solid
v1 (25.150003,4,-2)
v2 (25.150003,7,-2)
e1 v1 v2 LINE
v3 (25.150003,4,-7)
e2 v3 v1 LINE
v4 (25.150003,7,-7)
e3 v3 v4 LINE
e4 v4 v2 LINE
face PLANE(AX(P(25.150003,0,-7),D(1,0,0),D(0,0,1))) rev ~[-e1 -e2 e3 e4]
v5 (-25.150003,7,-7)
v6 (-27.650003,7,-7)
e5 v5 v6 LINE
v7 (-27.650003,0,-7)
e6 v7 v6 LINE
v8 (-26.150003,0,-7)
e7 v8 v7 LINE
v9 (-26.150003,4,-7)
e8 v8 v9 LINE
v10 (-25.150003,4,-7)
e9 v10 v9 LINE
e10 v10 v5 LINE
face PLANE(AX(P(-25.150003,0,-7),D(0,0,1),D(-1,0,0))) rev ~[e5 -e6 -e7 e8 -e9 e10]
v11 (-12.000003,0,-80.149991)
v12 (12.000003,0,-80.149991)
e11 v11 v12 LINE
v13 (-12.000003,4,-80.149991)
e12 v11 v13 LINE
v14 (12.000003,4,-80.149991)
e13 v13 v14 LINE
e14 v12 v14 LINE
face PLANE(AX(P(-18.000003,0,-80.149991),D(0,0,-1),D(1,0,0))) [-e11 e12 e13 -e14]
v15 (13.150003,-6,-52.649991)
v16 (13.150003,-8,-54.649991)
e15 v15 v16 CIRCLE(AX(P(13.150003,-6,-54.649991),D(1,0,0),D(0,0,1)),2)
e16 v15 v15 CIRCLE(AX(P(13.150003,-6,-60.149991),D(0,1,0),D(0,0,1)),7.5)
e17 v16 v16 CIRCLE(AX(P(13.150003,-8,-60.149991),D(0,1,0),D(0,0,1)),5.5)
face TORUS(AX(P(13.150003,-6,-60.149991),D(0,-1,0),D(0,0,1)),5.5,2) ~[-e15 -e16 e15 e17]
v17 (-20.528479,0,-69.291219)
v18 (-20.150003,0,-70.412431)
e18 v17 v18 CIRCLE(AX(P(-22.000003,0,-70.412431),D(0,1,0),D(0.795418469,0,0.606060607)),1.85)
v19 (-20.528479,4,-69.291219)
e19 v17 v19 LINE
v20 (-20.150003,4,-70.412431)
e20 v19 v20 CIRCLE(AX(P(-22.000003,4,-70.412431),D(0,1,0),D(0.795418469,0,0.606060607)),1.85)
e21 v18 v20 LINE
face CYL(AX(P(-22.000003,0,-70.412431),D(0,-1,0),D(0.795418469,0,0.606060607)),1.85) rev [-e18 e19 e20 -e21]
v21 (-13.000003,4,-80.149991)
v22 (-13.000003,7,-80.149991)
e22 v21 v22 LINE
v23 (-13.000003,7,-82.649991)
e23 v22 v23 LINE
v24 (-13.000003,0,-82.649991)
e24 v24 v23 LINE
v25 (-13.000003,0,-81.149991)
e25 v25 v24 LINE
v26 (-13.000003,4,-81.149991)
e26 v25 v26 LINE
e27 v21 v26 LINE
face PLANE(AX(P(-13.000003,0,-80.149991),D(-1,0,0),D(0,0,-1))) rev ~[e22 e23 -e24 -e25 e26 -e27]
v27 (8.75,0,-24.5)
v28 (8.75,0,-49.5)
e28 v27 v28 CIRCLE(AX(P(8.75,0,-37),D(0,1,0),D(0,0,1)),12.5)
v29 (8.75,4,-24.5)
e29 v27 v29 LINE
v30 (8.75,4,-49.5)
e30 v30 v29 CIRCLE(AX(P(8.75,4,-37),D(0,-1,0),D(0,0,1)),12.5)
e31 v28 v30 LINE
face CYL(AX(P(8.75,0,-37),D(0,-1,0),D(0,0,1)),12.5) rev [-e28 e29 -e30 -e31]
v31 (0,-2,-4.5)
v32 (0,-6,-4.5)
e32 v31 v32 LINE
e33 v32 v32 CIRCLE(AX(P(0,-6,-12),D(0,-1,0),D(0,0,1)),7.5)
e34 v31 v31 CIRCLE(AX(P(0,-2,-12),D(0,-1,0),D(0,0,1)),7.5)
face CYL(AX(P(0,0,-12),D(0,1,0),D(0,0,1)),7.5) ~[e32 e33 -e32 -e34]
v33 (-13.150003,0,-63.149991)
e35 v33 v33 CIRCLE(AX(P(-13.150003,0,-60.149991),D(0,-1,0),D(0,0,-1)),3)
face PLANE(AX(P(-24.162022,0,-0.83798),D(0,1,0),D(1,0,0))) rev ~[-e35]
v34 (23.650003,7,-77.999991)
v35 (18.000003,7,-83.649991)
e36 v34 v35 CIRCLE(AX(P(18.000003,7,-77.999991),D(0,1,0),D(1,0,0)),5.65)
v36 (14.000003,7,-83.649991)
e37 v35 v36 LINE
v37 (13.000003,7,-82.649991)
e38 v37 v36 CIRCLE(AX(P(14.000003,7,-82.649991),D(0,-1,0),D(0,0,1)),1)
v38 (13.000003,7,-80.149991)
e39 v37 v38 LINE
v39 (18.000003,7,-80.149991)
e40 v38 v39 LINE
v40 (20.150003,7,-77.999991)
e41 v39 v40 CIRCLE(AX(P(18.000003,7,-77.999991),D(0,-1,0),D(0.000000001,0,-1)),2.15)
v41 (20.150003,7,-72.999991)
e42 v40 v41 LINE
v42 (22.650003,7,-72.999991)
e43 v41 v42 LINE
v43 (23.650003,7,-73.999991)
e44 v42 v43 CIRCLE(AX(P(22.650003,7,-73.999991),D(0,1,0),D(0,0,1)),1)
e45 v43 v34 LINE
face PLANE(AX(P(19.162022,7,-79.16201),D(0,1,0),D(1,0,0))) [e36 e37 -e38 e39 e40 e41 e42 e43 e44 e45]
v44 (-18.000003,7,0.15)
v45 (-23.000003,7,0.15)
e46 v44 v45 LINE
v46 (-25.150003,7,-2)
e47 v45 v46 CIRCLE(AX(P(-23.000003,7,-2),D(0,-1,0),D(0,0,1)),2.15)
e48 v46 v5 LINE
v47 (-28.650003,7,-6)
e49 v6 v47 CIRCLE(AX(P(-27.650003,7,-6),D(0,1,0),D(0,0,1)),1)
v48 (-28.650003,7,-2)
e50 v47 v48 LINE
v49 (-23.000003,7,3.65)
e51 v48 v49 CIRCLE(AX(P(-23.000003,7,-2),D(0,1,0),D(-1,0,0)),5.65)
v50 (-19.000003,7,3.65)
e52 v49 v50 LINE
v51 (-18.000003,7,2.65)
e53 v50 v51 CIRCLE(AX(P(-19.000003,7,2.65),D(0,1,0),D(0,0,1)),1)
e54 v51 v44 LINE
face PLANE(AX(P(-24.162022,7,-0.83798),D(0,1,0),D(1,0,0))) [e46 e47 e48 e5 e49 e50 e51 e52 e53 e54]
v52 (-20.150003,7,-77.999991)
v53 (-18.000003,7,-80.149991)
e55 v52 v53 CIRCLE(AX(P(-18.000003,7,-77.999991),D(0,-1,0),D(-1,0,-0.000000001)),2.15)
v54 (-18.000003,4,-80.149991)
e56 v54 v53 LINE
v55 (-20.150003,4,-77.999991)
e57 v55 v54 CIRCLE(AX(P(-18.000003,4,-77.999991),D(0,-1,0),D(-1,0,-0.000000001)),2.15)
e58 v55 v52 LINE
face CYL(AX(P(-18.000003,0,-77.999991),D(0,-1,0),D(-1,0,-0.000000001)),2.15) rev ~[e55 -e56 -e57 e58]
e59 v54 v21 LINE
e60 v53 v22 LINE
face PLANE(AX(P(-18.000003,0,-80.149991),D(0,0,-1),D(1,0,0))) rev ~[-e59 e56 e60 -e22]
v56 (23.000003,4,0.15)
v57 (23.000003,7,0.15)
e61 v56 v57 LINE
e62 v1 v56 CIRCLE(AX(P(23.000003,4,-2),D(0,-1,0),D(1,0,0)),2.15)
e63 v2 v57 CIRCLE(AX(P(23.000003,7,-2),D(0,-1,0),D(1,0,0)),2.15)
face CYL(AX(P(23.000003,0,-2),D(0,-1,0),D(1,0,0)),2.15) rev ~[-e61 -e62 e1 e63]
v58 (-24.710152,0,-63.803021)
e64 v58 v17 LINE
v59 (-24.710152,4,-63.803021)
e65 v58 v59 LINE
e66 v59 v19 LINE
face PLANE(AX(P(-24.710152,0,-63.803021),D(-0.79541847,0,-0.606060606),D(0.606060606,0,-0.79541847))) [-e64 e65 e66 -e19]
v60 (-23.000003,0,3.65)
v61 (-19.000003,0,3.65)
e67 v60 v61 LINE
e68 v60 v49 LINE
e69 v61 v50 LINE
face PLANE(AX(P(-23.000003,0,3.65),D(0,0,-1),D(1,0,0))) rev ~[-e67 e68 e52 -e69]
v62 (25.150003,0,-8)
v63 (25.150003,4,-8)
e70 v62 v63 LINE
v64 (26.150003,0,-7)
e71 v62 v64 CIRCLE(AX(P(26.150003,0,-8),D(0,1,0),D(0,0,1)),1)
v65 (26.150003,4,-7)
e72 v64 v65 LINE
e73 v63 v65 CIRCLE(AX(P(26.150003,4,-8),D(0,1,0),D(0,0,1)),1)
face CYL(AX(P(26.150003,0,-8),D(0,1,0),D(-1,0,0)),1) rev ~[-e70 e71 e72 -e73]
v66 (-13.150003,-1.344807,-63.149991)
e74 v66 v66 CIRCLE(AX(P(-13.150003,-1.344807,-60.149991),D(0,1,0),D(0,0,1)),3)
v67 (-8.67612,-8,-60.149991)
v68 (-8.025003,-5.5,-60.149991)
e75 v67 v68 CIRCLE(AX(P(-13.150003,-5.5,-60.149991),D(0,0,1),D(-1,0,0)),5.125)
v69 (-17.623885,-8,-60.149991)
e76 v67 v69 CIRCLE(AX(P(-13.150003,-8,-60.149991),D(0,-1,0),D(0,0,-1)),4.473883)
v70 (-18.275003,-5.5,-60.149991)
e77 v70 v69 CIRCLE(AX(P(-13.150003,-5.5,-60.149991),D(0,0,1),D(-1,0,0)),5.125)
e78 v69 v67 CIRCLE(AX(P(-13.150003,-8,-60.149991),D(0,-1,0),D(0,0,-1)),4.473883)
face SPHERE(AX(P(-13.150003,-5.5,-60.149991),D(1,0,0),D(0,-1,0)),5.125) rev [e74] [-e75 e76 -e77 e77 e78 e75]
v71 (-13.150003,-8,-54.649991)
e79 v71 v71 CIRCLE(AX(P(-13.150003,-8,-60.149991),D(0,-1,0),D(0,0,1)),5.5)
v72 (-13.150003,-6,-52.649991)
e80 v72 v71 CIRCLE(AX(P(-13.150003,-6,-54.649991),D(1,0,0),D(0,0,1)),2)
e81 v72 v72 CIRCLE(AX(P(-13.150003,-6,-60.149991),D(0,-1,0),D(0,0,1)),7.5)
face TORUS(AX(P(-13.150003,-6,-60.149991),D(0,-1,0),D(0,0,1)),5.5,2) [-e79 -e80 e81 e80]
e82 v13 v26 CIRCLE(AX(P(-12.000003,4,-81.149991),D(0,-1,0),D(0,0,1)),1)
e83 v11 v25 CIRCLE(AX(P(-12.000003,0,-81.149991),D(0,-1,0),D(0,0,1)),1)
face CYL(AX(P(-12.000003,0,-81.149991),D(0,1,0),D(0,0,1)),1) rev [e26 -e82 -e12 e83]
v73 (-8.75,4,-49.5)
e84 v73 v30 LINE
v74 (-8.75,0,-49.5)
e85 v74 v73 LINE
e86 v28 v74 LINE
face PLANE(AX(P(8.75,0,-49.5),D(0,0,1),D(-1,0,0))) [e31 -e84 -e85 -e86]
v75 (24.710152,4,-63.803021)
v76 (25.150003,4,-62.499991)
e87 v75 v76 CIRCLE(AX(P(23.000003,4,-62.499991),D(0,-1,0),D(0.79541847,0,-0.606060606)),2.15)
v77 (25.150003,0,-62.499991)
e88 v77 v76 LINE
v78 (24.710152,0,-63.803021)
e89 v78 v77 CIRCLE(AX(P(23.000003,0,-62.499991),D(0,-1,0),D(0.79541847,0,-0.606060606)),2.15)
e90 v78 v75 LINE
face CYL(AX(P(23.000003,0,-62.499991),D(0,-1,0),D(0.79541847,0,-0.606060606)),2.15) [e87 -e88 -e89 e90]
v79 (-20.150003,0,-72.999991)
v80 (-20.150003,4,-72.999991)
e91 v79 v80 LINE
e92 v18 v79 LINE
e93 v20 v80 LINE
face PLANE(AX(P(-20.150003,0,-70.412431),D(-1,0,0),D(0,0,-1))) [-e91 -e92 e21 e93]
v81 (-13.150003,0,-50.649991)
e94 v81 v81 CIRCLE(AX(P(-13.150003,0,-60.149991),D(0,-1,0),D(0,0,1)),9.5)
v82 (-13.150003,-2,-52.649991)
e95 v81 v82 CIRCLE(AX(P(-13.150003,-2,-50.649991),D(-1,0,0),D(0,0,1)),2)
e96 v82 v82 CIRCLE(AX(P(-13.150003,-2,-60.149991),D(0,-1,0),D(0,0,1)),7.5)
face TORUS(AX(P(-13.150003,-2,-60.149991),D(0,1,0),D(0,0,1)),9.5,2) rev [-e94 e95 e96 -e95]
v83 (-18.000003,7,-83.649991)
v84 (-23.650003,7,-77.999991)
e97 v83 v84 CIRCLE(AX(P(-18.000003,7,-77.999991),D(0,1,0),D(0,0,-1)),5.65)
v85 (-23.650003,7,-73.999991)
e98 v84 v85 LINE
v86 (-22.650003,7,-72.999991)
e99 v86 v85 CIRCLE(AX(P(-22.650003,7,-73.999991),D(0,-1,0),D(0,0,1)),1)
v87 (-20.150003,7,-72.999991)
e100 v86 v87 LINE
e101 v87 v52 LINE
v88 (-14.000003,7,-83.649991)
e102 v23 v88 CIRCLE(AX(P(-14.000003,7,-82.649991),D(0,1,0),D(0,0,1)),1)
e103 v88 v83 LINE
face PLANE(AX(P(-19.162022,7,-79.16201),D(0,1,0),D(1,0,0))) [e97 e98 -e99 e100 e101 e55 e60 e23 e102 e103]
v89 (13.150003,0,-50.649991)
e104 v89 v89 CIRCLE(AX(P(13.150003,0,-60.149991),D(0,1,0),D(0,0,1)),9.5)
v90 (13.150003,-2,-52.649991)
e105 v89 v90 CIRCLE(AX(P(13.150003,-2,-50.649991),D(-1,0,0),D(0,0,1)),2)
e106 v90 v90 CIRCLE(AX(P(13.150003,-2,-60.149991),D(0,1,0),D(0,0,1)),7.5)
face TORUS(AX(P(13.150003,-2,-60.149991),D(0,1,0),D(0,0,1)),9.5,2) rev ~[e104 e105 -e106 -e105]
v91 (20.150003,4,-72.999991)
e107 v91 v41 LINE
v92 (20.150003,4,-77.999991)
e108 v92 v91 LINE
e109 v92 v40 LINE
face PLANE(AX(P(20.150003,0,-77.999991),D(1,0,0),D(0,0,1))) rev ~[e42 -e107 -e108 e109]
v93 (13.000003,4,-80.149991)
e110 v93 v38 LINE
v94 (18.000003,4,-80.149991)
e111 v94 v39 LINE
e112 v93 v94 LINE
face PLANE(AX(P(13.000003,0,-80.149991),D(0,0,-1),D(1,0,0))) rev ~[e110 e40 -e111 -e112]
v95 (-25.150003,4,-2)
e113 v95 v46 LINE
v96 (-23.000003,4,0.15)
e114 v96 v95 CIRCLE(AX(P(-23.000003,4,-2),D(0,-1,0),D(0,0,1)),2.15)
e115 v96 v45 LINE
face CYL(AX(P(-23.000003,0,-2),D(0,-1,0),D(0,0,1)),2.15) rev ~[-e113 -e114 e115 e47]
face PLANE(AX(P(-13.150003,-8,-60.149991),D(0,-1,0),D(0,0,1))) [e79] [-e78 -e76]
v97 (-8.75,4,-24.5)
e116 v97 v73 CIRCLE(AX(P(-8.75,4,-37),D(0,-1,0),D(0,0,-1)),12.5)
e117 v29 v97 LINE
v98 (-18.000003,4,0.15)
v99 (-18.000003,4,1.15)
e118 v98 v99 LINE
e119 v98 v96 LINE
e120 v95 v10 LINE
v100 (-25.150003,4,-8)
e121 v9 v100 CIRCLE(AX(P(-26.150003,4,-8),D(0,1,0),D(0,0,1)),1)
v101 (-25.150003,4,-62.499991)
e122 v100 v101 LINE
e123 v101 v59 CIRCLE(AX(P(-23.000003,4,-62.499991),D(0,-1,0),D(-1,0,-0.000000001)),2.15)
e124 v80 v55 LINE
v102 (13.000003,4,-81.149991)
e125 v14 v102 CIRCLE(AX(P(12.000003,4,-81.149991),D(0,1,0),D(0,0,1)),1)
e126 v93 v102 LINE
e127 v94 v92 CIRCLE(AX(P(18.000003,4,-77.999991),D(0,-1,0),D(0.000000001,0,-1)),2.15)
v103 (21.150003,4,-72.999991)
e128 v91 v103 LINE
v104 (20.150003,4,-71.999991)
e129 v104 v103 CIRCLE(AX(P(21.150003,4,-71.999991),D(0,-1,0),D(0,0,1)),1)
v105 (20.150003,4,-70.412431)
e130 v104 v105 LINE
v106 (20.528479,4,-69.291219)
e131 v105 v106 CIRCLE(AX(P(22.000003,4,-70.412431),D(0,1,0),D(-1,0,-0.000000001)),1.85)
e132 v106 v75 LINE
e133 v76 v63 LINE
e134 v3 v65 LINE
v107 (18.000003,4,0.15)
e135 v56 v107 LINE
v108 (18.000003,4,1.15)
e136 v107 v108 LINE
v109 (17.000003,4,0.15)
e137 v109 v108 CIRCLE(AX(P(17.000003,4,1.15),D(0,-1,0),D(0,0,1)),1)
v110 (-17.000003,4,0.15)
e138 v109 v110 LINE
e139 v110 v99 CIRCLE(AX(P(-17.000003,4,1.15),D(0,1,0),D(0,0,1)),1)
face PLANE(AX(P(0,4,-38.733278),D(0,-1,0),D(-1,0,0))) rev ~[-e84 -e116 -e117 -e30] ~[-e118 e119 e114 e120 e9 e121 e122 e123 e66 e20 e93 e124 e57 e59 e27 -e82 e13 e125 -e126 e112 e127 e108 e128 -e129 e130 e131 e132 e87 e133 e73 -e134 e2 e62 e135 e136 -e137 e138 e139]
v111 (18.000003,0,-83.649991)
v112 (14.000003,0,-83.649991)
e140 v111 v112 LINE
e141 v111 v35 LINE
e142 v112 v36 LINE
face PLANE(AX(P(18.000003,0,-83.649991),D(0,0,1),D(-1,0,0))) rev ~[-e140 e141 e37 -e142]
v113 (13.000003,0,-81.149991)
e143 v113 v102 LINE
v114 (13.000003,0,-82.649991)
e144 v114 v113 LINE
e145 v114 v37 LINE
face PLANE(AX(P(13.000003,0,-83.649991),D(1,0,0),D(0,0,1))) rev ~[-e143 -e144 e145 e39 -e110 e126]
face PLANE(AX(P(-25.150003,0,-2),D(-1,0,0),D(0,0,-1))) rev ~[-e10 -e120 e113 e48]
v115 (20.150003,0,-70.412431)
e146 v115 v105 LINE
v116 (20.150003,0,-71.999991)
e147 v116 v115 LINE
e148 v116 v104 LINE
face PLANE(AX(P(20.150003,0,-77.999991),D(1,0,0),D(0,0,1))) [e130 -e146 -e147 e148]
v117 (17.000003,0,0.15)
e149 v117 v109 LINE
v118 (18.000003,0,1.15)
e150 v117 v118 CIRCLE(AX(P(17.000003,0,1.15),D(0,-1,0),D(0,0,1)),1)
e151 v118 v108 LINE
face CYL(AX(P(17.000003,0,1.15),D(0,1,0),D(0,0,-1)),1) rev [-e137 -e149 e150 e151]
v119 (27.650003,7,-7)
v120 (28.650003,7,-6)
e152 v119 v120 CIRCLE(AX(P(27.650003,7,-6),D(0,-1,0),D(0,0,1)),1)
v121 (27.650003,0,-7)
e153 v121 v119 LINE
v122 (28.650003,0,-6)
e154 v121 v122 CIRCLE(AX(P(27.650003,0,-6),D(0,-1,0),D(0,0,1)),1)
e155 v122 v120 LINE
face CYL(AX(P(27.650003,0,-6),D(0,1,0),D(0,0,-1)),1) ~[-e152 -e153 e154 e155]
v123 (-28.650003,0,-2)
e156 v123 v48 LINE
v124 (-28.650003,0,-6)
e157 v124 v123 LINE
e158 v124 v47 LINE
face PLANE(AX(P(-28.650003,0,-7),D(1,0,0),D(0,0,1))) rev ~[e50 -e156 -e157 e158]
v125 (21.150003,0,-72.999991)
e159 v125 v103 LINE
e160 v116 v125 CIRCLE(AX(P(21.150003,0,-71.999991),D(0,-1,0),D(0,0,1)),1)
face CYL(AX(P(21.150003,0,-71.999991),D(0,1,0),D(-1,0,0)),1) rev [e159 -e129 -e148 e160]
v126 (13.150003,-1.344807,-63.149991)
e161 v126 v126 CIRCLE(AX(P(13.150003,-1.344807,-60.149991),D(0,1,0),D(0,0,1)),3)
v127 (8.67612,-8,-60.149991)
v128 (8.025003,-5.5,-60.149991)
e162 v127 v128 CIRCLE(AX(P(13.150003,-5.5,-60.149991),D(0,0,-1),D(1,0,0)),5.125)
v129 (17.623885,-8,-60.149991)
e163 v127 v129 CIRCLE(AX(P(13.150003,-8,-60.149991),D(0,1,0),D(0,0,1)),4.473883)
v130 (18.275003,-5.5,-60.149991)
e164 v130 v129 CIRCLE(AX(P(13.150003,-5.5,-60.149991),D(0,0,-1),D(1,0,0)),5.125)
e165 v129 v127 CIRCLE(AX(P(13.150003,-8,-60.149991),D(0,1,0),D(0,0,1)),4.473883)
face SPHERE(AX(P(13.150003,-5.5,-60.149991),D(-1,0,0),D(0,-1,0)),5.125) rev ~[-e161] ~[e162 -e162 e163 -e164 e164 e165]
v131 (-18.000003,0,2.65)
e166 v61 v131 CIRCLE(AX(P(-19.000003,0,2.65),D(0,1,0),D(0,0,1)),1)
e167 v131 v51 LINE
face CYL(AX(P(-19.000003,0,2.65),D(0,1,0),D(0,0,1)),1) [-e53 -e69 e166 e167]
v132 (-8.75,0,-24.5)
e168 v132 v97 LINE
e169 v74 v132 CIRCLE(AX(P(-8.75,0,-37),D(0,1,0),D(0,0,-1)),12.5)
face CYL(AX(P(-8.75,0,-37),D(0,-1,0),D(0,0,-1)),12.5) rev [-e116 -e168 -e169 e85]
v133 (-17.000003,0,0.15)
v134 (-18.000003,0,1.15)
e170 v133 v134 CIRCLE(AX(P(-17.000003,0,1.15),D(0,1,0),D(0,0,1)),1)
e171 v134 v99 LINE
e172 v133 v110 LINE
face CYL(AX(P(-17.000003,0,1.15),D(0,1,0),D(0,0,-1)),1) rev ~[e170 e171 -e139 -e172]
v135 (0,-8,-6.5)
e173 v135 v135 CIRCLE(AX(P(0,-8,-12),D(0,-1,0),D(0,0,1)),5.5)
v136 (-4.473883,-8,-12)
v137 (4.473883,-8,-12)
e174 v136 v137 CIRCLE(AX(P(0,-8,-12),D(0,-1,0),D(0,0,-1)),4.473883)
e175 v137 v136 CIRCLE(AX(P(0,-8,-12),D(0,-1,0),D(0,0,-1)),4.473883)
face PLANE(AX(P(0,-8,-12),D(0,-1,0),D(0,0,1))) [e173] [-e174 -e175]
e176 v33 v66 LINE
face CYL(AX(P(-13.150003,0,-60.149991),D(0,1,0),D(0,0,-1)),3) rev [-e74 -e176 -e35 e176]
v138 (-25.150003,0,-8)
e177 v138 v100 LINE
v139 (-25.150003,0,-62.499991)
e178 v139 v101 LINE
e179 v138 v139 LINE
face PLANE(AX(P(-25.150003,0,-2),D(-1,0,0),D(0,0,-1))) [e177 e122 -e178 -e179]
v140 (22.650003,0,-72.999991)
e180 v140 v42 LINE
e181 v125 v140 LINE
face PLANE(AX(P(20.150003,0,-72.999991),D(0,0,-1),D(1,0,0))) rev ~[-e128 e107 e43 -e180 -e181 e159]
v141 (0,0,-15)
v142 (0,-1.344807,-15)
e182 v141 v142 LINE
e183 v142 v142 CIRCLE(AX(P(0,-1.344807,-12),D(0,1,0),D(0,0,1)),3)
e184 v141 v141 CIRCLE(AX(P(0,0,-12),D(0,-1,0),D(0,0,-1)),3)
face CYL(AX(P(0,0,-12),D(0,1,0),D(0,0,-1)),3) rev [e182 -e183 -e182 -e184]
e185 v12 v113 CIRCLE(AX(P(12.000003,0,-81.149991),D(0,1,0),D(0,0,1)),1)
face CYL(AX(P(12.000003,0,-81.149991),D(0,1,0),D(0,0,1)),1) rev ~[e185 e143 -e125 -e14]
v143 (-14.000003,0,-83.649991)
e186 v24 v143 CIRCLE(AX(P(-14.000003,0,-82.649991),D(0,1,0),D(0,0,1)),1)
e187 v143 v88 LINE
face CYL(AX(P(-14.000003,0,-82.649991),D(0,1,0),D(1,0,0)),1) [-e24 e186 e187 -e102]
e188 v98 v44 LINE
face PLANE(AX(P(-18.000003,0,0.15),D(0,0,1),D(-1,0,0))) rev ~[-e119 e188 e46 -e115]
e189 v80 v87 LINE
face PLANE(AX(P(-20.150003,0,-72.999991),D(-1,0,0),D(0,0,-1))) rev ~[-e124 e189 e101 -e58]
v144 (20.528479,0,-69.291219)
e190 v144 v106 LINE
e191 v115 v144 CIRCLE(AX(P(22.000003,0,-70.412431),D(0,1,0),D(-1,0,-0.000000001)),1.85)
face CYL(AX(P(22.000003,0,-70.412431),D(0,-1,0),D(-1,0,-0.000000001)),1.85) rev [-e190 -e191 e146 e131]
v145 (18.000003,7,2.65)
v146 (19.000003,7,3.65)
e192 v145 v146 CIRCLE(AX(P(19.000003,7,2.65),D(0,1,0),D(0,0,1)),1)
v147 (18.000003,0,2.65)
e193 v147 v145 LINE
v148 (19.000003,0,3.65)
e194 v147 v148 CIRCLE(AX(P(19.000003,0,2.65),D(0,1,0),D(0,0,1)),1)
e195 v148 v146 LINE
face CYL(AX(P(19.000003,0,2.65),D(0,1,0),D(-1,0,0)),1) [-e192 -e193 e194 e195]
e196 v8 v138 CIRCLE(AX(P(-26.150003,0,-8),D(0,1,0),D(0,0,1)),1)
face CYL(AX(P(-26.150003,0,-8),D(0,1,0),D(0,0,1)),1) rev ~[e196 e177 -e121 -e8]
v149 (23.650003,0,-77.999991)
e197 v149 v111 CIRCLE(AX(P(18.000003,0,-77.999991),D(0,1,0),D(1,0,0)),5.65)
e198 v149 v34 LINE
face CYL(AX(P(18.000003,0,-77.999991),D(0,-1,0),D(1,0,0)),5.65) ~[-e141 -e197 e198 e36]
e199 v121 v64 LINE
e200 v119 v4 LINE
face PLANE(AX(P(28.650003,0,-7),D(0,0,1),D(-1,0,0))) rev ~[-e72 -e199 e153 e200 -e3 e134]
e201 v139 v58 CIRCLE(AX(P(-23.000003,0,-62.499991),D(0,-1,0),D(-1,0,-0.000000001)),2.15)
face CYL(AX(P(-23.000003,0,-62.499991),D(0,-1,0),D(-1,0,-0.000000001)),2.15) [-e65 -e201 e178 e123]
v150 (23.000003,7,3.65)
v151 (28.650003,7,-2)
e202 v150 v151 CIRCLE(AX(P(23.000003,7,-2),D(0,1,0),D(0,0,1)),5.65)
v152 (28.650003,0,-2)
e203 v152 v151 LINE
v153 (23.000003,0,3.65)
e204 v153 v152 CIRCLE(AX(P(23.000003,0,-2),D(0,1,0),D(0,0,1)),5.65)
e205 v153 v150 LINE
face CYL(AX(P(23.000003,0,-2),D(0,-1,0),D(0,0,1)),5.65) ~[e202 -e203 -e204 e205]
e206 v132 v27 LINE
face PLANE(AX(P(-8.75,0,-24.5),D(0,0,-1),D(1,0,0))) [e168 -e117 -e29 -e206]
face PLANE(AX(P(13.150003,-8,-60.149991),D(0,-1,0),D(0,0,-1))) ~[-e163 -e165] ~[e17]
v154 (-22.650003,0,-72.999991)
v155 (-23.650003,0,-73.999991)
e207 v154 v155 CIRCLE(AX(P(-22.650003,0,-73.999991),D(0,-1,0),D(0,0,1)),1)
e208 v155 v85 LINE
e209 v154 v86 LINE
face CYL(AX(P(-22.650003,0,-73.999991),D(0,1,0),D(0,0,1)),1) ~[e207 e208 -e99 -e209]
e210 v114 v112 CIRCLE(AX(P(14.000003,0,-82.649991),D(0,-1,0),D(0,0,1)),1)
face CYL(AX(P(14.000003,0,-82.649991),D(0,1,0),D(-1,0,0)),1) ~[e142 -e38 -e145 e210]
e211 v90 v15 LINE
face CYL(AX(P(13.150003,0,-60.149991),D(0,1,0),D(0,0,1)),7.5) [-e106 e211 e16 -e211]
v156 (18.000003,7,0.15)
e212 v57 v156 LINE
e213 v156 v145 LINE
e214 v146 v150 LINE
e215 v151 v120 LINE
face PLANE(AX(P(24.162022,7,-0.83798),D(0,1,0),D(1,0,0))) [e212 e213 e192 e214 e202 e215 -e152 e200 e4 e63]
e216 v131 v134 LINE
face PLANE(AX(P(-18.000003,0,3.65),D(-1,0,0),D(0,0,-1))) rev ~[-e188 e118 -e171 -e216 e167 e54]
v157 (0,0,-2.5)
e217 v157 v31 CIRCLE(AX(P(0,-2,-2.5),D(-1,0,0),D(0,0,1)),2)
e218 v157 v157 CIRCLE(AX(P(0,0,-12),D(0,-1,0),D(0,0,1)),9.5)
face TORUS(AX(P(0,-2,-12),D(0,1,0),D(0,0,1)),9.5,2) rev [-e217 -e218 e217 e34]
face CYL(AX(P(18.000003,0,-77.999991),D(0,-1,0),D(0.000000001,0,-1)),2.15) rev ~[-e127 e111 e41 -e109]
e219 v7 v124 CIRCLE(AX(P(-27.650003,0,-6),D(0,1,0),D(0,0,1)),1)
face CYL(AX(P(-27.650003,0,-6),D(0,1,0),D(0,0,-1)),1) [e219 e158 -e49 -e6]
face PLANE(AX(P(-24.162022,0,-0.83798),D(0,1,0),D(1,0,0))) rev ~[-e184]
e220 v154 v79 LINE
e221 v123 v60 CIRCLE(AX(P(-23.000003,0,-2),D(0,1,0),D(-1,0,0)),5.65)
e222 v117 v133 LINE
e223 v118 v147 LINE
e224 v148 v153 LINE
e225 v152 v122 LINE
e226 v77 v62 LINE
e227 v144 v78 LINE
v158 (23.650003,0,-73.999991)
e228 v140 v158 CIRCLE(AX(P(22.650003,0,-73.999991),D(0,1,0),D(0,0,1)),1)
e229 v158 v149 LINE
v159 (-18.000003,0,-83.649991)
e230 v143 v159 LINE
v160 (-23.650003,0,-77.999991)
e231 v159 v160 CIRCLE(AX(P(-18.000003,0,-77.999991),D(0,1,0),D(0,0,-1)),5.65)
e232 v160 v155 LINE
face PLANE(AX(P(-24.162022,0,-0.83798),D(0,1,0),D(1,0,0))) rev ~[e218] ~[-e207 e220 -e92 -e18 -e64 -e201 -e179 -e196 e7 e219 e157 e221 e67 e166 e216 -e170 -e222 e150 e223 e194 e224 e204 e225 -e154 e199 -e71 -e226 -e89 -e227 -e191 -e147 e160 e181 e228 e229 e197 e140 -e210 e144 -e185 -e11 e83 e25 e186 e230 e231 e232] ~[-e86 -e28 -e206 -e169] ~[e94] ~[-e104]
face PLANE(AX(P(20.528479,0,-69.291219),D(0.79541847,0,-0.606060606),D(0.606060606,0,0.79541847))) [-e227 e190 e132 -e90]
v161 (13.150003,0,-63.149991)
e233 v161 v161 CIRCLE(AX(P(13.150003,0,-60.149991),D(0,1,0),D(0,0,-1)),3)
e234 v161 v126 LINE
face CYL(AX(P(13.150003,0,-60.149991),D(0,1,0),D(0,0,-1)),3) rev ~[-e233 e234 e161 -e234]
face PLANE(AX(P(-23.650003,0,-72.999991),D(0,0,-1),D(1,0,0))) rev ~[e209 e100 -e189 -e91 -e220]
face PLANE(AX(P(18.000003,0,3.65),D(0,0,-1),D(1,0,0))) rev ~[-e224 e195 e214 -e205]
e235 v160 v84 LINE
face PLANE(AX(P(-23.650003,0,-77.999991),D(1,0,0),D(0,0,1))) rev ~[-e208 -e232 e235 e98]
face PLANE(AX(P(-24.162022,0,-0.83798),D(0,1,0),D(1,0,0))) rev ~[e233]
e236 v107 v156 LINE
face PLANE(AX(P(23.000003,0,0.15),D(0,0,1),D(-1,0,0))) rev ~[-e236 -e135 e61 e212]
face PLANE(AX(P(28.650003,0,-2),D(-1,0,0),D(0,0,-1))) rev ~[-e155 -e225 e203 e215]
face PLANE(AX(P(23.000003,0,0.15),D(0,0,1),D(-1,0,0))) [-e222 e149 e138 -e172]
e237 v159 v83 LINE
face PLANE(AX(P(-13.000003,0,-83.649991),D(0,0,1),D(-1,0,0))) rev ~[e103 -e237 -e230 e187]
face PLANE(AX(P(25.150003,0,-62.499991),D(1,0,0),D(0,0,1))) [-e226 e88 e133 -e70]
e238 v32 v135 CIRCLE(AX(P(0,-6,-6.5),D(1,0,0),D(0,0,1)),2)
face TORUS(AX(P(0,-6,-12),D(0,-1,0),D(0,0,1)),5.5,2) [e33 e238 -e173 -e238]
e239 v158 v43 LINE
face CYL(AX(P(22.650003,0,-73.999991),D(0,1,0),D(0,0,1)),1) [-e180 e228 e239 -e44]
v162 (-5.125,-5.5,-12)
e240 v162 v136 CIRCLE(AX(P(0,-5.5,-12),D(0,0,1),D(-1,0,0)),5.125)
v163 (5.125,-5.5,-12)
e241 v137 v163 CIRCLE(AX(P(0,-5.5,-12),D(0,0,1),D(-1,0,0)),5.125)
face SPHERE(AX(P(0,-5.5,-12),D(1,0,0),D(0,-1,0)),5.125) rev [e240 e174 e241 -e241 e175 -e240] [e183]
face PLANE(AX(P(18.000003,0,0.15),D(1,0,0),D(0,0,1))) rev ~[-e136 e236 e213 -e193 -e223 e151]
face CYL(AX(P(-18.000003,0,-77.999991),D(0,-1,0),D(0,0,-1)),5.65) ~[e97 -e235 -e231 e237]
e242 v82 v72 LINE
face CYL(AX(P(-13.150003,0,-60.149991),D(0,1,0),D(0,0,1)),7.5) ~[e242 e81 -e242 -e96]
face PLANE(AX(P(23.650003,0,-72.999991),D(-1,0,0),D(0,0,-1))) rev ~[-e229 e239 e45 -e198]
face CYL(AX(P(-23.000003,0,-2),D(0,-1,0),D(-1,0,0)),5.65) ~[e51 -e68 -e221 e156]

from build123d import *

# Parameters (mm, degrees)
SALIENTE_EXTRUIR1_DEPTH  = 4
SALIENTE_EXTRUIR2_DEPTH  = 7
REDONDEO1_R              = 1
CROQUIS3_R               = 7.5
CROQUIS3_R_2             = 3
SALIENTE_EXTRUIR3_DEPTH  = 8
CROQUIS3_3_R             = 7.5
CROQUIS3_3_R_2           = 3
SALIENTE_EXTRUIR4_DEPTH  = 8
REDONDEO2_R              = 2
REDONDEO3_R              = 2
REDONDEO3_OF_SIMETR_A1_R = 2
CORTAR_EXTRUIR1_REACH    = 90.781


with BuildPart() as part:
    # Croquis2 → Saliente-Extruir1 (new body)
    with BuildSketch(Plane(origin=(0, 0, 0), x_dir=(1, 0, 0), z_dir=(0, 1, 0))):
        with BuildLine():
            Line((-20.528478505, 69.291218974), (-24.710152383, 63.803020924))
            ThreePointArc((-24.710152383, 63.803020924), (-25.037074331, 63.187623562), (-25.150002674, 62.49999062))
            Line((-25.150002674, 62.49999062), (-25.150002674, 7))
            Line((-25.150002674, 7), (-25.150002674, 2))
            ThreePointArc((-25.150002674, 2), (-24.520282253, 0.47972042), (-23.000002674, -0.15))
            Line((-23.000002674, -0.15), (-18.000002674, -0.15))
            Line((-18.000002674, -0.15), (-6.000002674, -0.15))
            Line((-6.000002674, -0.15), (6.000002674, -0.15))
            Line((6.000002674, -0.15), (18.000002674, -0.15))
            Line((18.000002674, -0.15), (23.000002674, -0.15))
            ThreePointArc((23.000002674, -0.15), (24.520282253, 0.47972042), (25.150002674, 2))
            Line((25.150002674, 2), (25.150002674, 7))
            Line((25.150002674, 7), (25.150002674, 62.49999062))
            ThreePointArc((25.150002674, 62.49999062), (25.037074331, 63.187623562), (24.710152383, 63.803020924))
            Line((24.710152383, 63.803020924), (20.528478505, 69.291218974))
            ThreePointArc((20.528478505, 69.291218974), (20.247173573, 69.820746936), (20.150002674, 70.412431095))
            Line((20.150002674, 70.412431095), (20.150002674, 72.999990621))
            Line((20.150002674, 72.999990621), (20.150002674, 77.999990621))
            ThreePointArc((20.150002674, 77.999990621), (19.520282253, 79.5202702), (18.000002674, 80.149990621))
            Line((18.000002674, 80.149990621), (13.000002674, 80.149990621))
            Line((13.000002674, 80.149990621), (6.000002674, 80.149990621))
            Line((6.000002674, 80.149990621), (-6.000002674, 80.149990621))
            Line((-6.000002674, 80.149990621), (-13.000002674, 80.149990621))
            Line((-13.000002674, 80.149990621), (-18.000002674, 80.149990621))
            ThreePointArc((-18.000002674, 80.149990621), (-19.520282253, 79.5202702), (-20.150002674, 77.999990621))
            Line((-20.150002674, 77.999990621), (-20.150002674, 72.999990621))
            Line((-20.150002674, 72.999990621), (-20.150002674, 70.412431095))
            ThreePointArc((-20.150002674, 70.412431095), (-20.247173573, 69.820746936), (-20.528478505, 69.291218974))
        make_face()
    extrude(amount=SALIENTE_EXTRUIR1_DEPTH)

    # Croquis2<3> → Saliente-Extruir2 (add)
    with BuildSketch(Plane(origin=(0, 0, 0), x_dir=(1, 0, 0), z_dir=(0, 1, 0))):
        with BuildLine():
            Line((-25.150002674, 2), (-25.150002674, 7))
            Line((-25.150002674, 7), (-28.650002674, 7))
            Line((-28.650002674, 7), (-28.650002674, 2))
            ThreePointArc((-28.650002674, 2), (-26.995155987, -1.995153314), (-23.000002674, -3.65))
            Line((-23.000002674, -3.65), (-18.000002674, -3.65))
            Line((-18.000002674, -3.65), (-18.000002674, -0.15))
            Line((-18.000002674, -0.15), (-23.000002674, -0.15))
            ThreePointArc((-23.000002674, -0.15), (-24.520282253, 0.47972042), (-25.150002674, 2))
        make_face()
        with BuildLine():
            Line((-23.650002674, 72.999990621), (-20.150002674, 72.999990621))
            Line((-20.150002674, 72.999990621), (-20.150002674, 77.999990621))
            ThreePointArc((-20.150002674, 77.999990621), (-19.520282253, 79.5202702), (-18.000002674, 80.149990621))
            Line((-18.000002674, 80.149990621), (-13.000002674, 80.149990621))
            Line((-13.000002674, 80.149990621), (-13.000002674, 83.649990621))
            Line((-13.000002674, 83.649990621), (-18.000002674, 83.649990621))
            ThreePointArc((-18.000002674, 83.649990621), (-21.995155987, 81.995143934), (-23.650002674, 77.999990621))
            Line((-23.650002674, 77.999990621), (-23.650002674, 72.999990621))
        make_face()
        with BuildLine():
            Line((23.000002674, -0.15), (18.000002674, -0.15))
            Line((18.000002674, -0.15), (18.000002674, -3.65))
            Line((18.000002674, -3.65), (23.000002674, -3.65))
            ThreePointArc((23.000002674, -3.65), (26.995155987, -1.995153314), (28.650002674, 2))
            Line((28.650002674, 2), (28.650002674, 7))
            Line((28.650002674, 7), (25.150002674, 7))
            Line((25.150002674, 7), (25.150002674, 2))
            ThreePointArc((25.150002674, 2), (24.520282253, 0.47972042), (23.000002674, -0.15))
        make_face()
        with BuildLine():
            Line((13.000002674, 83.649990621), (13.000002674, 80.149990621))
            Line((13.000002674, 80.149990621), (18.000002674, 80.149990621))
            ThreePointArc((18.000002674, 80.149990621), (19.520282253, 79.5202702), (20.150002674, 77.999990621))
            Line((20.150002674, 77.999990621), (20.150002674, 72.999990621))
            Line((20.150002674, 72.999990621), (23.650002674, 72.999990621))
            Line((23.650002674, 72.999990621), (23.650002674, 77.999990621))
            ThreePointArc((23.650002674, 77.999990621), (21.995155987, 81.995143934), (18.000002674, 83.649990621))
            Line((18.000002674, 83.649990621), (13.000002674, 83.649990621))
        make_face()
    extrude(amount=SALIENTE_EXTRUIR2_DEPTH)

    # Redondeo1
    redondeo1_edges = [part.edges().sort_by_distance(p)[0] for p in [
        (23.650002674, 3.5, -72.999990621),
        (20.150002674, 2, -72.999990621),
        (13.000002674, 3.5, -83.649990621),
        (13.000002674, 2, -80.149990621),
        (18.000002674, 3.5, 3.65),
        (18.000002674, 2, 0.15),
        (25.150002674, 2, -7),
        (28.650002674, 3.5, -7),
        (-18.000002674, 3.5, 3.65),
        (-18.000002674, 2, 0.15),
        (-28.650002674, 3.5, -7),
        (-25.150002674, 2, -7),
        (-13.000002674, 3.5, -83.649990621),
        (-13.000002674, 2, -80.149990621),
        (-23.650002674, 3.5, -72.999990621),
    ]]
    fillet(redondeo1_edges, radius=REDONDEO1_R)

    # Croquis3 → Saliente-Extruir3 (add)
    with BuildSketch(Plane.XZ):
        with Locations((0, -12)):
            Circle(CROQUIS3_R)
        with Locations((0, -12)):
            Circle(CROQUIS3_R_2, mode=Mode.SUBTRACT)
    extrude(amount=SALIENTE_EXTRUIR3_DEPTH)

    # Croquis3<3> → Saliente-Extruir4 (add)
    with BuildSketch(Plane.XZ):
        with Locations((-13.150002674, -60.149990621)):
            Circle(CROQUIS3_3_R)
        with Locations((-13.150002674, -60.149990621)):
            Circle(CROQUIS3_3_R_2, mode=Mode.SUBTRACT)
    saliente_extruir4 = extrude(amount=SALIENTE_EXTRUIR4_DEPTH)

    # Croquis4 → Cortar-Revolución1 (revolve, cut)
    with BuildSketch(Plane.XY.offset(-12)):
        with BuildLine():
            Line((5.125, -5.5), (-5.125, -5.5))
            ThreePointArc((-5.125, -5.5), (0, -10.625), (5.125, -5.5))
        make_face()
    revolve(axis=Axis((5.125, -5.5, -12), (-1, 0, 0)), mode=Mode.SUBTRACT)

    # Croquis5 → Cortar-Revolución2 (revolve, cut)
    with BuildSketch(Plane.XY.offset(-60.149990621)):
        with BuildLine():
            Line((-8.025002674, -5.5), (-18.275002674, -5.5))
            ThreePointArc((-18.275002674, -5.5), (-13.150002674, -10.625), (-8.025002674, -5.5))
        make_face()
    cortar_revoluci_n2 = revolve(axis=Axis((-8.025002674, -5.5, -60.149990621), (-1, 0, 0)), mode=Mode.SUBTRACT)

    # Redondeo2
    redondeo2_edges = [part.edges().sort_by_distance(p)[0] for p in [
        (-7.5, -8, -12),
        (-7.5, 0, -12),
    ]]
    fillet(redondeo2_edges, radius=REDONDEO2_R)

    # Redondeo3
    redondeo3_edges = [part.edges().sort_by_distance(p)[0] for p in [
        (-20.650002674, -8, -60.149990621),
        (-20.650002674, 0, -60.149990621),
    ]]
    fillet(redondeo3_edges, radius=REDONDEO3_R)

    # Simetría1: Saliente-Extruir4, Cortar-Revolución2 across plane
    add(saliente_extruir4.mirror(Plane(origin=(0, 0, 0), x_dir=(0, 0, 1), z_dir=(1, 0, 0))))
    add(cortar_revoluci_n2.mirror(Plane(origin=(0, 0, 0), x_dir=(0, 0, 1), z_dir=(1, 0, 0))), mode=Mode.SUBTRACT)

    # Redondeo3 of Simetría1
    redondeo3_of_simetr_a1_edges = [part.edges().sort_by_distance(p)[0] for p in [
        (20.650002674, -8, -60.149990621),
        (20.650002674, 0, -60.149990621),
    ]]
    fillet(redondeo3_of_simetr_a1_edges, radius=REDONDEO3_OF_SIMETR_A1_R)

    # Croquis6 → Cortar-Extruir1 (cut, up to next)
    with BuildSketch(Plane.XZ, mode=Mode.PRIVATE) as cortar_extruir1_sk1:
        with BuildLine():
            Line((-8.75, -24.5), (8.75, -24.5))
            ThreePointArc((8.75, -24.5), (21.25, -37), (8.75, -49.5))
            Line((8.75, -49.5), (-8.75, -49.5))
            ThreePointArc((-8.75, -49.5), (-21.25, -37), (-8.75, -24.5))
        make_face()
    cortar_extruir1_tool1 = extrude(cortar_extruir1_sk1.sketch, amount=-CORTAR_EXTRUIR1_REACH, mode=Mode.PRIVATE) & part.part
    add(cortar_extruir1_tool1.solids().sort_by_distance((0, 0, -37))[0], mode=Mode.SUBTRACT)


solid = part.part
